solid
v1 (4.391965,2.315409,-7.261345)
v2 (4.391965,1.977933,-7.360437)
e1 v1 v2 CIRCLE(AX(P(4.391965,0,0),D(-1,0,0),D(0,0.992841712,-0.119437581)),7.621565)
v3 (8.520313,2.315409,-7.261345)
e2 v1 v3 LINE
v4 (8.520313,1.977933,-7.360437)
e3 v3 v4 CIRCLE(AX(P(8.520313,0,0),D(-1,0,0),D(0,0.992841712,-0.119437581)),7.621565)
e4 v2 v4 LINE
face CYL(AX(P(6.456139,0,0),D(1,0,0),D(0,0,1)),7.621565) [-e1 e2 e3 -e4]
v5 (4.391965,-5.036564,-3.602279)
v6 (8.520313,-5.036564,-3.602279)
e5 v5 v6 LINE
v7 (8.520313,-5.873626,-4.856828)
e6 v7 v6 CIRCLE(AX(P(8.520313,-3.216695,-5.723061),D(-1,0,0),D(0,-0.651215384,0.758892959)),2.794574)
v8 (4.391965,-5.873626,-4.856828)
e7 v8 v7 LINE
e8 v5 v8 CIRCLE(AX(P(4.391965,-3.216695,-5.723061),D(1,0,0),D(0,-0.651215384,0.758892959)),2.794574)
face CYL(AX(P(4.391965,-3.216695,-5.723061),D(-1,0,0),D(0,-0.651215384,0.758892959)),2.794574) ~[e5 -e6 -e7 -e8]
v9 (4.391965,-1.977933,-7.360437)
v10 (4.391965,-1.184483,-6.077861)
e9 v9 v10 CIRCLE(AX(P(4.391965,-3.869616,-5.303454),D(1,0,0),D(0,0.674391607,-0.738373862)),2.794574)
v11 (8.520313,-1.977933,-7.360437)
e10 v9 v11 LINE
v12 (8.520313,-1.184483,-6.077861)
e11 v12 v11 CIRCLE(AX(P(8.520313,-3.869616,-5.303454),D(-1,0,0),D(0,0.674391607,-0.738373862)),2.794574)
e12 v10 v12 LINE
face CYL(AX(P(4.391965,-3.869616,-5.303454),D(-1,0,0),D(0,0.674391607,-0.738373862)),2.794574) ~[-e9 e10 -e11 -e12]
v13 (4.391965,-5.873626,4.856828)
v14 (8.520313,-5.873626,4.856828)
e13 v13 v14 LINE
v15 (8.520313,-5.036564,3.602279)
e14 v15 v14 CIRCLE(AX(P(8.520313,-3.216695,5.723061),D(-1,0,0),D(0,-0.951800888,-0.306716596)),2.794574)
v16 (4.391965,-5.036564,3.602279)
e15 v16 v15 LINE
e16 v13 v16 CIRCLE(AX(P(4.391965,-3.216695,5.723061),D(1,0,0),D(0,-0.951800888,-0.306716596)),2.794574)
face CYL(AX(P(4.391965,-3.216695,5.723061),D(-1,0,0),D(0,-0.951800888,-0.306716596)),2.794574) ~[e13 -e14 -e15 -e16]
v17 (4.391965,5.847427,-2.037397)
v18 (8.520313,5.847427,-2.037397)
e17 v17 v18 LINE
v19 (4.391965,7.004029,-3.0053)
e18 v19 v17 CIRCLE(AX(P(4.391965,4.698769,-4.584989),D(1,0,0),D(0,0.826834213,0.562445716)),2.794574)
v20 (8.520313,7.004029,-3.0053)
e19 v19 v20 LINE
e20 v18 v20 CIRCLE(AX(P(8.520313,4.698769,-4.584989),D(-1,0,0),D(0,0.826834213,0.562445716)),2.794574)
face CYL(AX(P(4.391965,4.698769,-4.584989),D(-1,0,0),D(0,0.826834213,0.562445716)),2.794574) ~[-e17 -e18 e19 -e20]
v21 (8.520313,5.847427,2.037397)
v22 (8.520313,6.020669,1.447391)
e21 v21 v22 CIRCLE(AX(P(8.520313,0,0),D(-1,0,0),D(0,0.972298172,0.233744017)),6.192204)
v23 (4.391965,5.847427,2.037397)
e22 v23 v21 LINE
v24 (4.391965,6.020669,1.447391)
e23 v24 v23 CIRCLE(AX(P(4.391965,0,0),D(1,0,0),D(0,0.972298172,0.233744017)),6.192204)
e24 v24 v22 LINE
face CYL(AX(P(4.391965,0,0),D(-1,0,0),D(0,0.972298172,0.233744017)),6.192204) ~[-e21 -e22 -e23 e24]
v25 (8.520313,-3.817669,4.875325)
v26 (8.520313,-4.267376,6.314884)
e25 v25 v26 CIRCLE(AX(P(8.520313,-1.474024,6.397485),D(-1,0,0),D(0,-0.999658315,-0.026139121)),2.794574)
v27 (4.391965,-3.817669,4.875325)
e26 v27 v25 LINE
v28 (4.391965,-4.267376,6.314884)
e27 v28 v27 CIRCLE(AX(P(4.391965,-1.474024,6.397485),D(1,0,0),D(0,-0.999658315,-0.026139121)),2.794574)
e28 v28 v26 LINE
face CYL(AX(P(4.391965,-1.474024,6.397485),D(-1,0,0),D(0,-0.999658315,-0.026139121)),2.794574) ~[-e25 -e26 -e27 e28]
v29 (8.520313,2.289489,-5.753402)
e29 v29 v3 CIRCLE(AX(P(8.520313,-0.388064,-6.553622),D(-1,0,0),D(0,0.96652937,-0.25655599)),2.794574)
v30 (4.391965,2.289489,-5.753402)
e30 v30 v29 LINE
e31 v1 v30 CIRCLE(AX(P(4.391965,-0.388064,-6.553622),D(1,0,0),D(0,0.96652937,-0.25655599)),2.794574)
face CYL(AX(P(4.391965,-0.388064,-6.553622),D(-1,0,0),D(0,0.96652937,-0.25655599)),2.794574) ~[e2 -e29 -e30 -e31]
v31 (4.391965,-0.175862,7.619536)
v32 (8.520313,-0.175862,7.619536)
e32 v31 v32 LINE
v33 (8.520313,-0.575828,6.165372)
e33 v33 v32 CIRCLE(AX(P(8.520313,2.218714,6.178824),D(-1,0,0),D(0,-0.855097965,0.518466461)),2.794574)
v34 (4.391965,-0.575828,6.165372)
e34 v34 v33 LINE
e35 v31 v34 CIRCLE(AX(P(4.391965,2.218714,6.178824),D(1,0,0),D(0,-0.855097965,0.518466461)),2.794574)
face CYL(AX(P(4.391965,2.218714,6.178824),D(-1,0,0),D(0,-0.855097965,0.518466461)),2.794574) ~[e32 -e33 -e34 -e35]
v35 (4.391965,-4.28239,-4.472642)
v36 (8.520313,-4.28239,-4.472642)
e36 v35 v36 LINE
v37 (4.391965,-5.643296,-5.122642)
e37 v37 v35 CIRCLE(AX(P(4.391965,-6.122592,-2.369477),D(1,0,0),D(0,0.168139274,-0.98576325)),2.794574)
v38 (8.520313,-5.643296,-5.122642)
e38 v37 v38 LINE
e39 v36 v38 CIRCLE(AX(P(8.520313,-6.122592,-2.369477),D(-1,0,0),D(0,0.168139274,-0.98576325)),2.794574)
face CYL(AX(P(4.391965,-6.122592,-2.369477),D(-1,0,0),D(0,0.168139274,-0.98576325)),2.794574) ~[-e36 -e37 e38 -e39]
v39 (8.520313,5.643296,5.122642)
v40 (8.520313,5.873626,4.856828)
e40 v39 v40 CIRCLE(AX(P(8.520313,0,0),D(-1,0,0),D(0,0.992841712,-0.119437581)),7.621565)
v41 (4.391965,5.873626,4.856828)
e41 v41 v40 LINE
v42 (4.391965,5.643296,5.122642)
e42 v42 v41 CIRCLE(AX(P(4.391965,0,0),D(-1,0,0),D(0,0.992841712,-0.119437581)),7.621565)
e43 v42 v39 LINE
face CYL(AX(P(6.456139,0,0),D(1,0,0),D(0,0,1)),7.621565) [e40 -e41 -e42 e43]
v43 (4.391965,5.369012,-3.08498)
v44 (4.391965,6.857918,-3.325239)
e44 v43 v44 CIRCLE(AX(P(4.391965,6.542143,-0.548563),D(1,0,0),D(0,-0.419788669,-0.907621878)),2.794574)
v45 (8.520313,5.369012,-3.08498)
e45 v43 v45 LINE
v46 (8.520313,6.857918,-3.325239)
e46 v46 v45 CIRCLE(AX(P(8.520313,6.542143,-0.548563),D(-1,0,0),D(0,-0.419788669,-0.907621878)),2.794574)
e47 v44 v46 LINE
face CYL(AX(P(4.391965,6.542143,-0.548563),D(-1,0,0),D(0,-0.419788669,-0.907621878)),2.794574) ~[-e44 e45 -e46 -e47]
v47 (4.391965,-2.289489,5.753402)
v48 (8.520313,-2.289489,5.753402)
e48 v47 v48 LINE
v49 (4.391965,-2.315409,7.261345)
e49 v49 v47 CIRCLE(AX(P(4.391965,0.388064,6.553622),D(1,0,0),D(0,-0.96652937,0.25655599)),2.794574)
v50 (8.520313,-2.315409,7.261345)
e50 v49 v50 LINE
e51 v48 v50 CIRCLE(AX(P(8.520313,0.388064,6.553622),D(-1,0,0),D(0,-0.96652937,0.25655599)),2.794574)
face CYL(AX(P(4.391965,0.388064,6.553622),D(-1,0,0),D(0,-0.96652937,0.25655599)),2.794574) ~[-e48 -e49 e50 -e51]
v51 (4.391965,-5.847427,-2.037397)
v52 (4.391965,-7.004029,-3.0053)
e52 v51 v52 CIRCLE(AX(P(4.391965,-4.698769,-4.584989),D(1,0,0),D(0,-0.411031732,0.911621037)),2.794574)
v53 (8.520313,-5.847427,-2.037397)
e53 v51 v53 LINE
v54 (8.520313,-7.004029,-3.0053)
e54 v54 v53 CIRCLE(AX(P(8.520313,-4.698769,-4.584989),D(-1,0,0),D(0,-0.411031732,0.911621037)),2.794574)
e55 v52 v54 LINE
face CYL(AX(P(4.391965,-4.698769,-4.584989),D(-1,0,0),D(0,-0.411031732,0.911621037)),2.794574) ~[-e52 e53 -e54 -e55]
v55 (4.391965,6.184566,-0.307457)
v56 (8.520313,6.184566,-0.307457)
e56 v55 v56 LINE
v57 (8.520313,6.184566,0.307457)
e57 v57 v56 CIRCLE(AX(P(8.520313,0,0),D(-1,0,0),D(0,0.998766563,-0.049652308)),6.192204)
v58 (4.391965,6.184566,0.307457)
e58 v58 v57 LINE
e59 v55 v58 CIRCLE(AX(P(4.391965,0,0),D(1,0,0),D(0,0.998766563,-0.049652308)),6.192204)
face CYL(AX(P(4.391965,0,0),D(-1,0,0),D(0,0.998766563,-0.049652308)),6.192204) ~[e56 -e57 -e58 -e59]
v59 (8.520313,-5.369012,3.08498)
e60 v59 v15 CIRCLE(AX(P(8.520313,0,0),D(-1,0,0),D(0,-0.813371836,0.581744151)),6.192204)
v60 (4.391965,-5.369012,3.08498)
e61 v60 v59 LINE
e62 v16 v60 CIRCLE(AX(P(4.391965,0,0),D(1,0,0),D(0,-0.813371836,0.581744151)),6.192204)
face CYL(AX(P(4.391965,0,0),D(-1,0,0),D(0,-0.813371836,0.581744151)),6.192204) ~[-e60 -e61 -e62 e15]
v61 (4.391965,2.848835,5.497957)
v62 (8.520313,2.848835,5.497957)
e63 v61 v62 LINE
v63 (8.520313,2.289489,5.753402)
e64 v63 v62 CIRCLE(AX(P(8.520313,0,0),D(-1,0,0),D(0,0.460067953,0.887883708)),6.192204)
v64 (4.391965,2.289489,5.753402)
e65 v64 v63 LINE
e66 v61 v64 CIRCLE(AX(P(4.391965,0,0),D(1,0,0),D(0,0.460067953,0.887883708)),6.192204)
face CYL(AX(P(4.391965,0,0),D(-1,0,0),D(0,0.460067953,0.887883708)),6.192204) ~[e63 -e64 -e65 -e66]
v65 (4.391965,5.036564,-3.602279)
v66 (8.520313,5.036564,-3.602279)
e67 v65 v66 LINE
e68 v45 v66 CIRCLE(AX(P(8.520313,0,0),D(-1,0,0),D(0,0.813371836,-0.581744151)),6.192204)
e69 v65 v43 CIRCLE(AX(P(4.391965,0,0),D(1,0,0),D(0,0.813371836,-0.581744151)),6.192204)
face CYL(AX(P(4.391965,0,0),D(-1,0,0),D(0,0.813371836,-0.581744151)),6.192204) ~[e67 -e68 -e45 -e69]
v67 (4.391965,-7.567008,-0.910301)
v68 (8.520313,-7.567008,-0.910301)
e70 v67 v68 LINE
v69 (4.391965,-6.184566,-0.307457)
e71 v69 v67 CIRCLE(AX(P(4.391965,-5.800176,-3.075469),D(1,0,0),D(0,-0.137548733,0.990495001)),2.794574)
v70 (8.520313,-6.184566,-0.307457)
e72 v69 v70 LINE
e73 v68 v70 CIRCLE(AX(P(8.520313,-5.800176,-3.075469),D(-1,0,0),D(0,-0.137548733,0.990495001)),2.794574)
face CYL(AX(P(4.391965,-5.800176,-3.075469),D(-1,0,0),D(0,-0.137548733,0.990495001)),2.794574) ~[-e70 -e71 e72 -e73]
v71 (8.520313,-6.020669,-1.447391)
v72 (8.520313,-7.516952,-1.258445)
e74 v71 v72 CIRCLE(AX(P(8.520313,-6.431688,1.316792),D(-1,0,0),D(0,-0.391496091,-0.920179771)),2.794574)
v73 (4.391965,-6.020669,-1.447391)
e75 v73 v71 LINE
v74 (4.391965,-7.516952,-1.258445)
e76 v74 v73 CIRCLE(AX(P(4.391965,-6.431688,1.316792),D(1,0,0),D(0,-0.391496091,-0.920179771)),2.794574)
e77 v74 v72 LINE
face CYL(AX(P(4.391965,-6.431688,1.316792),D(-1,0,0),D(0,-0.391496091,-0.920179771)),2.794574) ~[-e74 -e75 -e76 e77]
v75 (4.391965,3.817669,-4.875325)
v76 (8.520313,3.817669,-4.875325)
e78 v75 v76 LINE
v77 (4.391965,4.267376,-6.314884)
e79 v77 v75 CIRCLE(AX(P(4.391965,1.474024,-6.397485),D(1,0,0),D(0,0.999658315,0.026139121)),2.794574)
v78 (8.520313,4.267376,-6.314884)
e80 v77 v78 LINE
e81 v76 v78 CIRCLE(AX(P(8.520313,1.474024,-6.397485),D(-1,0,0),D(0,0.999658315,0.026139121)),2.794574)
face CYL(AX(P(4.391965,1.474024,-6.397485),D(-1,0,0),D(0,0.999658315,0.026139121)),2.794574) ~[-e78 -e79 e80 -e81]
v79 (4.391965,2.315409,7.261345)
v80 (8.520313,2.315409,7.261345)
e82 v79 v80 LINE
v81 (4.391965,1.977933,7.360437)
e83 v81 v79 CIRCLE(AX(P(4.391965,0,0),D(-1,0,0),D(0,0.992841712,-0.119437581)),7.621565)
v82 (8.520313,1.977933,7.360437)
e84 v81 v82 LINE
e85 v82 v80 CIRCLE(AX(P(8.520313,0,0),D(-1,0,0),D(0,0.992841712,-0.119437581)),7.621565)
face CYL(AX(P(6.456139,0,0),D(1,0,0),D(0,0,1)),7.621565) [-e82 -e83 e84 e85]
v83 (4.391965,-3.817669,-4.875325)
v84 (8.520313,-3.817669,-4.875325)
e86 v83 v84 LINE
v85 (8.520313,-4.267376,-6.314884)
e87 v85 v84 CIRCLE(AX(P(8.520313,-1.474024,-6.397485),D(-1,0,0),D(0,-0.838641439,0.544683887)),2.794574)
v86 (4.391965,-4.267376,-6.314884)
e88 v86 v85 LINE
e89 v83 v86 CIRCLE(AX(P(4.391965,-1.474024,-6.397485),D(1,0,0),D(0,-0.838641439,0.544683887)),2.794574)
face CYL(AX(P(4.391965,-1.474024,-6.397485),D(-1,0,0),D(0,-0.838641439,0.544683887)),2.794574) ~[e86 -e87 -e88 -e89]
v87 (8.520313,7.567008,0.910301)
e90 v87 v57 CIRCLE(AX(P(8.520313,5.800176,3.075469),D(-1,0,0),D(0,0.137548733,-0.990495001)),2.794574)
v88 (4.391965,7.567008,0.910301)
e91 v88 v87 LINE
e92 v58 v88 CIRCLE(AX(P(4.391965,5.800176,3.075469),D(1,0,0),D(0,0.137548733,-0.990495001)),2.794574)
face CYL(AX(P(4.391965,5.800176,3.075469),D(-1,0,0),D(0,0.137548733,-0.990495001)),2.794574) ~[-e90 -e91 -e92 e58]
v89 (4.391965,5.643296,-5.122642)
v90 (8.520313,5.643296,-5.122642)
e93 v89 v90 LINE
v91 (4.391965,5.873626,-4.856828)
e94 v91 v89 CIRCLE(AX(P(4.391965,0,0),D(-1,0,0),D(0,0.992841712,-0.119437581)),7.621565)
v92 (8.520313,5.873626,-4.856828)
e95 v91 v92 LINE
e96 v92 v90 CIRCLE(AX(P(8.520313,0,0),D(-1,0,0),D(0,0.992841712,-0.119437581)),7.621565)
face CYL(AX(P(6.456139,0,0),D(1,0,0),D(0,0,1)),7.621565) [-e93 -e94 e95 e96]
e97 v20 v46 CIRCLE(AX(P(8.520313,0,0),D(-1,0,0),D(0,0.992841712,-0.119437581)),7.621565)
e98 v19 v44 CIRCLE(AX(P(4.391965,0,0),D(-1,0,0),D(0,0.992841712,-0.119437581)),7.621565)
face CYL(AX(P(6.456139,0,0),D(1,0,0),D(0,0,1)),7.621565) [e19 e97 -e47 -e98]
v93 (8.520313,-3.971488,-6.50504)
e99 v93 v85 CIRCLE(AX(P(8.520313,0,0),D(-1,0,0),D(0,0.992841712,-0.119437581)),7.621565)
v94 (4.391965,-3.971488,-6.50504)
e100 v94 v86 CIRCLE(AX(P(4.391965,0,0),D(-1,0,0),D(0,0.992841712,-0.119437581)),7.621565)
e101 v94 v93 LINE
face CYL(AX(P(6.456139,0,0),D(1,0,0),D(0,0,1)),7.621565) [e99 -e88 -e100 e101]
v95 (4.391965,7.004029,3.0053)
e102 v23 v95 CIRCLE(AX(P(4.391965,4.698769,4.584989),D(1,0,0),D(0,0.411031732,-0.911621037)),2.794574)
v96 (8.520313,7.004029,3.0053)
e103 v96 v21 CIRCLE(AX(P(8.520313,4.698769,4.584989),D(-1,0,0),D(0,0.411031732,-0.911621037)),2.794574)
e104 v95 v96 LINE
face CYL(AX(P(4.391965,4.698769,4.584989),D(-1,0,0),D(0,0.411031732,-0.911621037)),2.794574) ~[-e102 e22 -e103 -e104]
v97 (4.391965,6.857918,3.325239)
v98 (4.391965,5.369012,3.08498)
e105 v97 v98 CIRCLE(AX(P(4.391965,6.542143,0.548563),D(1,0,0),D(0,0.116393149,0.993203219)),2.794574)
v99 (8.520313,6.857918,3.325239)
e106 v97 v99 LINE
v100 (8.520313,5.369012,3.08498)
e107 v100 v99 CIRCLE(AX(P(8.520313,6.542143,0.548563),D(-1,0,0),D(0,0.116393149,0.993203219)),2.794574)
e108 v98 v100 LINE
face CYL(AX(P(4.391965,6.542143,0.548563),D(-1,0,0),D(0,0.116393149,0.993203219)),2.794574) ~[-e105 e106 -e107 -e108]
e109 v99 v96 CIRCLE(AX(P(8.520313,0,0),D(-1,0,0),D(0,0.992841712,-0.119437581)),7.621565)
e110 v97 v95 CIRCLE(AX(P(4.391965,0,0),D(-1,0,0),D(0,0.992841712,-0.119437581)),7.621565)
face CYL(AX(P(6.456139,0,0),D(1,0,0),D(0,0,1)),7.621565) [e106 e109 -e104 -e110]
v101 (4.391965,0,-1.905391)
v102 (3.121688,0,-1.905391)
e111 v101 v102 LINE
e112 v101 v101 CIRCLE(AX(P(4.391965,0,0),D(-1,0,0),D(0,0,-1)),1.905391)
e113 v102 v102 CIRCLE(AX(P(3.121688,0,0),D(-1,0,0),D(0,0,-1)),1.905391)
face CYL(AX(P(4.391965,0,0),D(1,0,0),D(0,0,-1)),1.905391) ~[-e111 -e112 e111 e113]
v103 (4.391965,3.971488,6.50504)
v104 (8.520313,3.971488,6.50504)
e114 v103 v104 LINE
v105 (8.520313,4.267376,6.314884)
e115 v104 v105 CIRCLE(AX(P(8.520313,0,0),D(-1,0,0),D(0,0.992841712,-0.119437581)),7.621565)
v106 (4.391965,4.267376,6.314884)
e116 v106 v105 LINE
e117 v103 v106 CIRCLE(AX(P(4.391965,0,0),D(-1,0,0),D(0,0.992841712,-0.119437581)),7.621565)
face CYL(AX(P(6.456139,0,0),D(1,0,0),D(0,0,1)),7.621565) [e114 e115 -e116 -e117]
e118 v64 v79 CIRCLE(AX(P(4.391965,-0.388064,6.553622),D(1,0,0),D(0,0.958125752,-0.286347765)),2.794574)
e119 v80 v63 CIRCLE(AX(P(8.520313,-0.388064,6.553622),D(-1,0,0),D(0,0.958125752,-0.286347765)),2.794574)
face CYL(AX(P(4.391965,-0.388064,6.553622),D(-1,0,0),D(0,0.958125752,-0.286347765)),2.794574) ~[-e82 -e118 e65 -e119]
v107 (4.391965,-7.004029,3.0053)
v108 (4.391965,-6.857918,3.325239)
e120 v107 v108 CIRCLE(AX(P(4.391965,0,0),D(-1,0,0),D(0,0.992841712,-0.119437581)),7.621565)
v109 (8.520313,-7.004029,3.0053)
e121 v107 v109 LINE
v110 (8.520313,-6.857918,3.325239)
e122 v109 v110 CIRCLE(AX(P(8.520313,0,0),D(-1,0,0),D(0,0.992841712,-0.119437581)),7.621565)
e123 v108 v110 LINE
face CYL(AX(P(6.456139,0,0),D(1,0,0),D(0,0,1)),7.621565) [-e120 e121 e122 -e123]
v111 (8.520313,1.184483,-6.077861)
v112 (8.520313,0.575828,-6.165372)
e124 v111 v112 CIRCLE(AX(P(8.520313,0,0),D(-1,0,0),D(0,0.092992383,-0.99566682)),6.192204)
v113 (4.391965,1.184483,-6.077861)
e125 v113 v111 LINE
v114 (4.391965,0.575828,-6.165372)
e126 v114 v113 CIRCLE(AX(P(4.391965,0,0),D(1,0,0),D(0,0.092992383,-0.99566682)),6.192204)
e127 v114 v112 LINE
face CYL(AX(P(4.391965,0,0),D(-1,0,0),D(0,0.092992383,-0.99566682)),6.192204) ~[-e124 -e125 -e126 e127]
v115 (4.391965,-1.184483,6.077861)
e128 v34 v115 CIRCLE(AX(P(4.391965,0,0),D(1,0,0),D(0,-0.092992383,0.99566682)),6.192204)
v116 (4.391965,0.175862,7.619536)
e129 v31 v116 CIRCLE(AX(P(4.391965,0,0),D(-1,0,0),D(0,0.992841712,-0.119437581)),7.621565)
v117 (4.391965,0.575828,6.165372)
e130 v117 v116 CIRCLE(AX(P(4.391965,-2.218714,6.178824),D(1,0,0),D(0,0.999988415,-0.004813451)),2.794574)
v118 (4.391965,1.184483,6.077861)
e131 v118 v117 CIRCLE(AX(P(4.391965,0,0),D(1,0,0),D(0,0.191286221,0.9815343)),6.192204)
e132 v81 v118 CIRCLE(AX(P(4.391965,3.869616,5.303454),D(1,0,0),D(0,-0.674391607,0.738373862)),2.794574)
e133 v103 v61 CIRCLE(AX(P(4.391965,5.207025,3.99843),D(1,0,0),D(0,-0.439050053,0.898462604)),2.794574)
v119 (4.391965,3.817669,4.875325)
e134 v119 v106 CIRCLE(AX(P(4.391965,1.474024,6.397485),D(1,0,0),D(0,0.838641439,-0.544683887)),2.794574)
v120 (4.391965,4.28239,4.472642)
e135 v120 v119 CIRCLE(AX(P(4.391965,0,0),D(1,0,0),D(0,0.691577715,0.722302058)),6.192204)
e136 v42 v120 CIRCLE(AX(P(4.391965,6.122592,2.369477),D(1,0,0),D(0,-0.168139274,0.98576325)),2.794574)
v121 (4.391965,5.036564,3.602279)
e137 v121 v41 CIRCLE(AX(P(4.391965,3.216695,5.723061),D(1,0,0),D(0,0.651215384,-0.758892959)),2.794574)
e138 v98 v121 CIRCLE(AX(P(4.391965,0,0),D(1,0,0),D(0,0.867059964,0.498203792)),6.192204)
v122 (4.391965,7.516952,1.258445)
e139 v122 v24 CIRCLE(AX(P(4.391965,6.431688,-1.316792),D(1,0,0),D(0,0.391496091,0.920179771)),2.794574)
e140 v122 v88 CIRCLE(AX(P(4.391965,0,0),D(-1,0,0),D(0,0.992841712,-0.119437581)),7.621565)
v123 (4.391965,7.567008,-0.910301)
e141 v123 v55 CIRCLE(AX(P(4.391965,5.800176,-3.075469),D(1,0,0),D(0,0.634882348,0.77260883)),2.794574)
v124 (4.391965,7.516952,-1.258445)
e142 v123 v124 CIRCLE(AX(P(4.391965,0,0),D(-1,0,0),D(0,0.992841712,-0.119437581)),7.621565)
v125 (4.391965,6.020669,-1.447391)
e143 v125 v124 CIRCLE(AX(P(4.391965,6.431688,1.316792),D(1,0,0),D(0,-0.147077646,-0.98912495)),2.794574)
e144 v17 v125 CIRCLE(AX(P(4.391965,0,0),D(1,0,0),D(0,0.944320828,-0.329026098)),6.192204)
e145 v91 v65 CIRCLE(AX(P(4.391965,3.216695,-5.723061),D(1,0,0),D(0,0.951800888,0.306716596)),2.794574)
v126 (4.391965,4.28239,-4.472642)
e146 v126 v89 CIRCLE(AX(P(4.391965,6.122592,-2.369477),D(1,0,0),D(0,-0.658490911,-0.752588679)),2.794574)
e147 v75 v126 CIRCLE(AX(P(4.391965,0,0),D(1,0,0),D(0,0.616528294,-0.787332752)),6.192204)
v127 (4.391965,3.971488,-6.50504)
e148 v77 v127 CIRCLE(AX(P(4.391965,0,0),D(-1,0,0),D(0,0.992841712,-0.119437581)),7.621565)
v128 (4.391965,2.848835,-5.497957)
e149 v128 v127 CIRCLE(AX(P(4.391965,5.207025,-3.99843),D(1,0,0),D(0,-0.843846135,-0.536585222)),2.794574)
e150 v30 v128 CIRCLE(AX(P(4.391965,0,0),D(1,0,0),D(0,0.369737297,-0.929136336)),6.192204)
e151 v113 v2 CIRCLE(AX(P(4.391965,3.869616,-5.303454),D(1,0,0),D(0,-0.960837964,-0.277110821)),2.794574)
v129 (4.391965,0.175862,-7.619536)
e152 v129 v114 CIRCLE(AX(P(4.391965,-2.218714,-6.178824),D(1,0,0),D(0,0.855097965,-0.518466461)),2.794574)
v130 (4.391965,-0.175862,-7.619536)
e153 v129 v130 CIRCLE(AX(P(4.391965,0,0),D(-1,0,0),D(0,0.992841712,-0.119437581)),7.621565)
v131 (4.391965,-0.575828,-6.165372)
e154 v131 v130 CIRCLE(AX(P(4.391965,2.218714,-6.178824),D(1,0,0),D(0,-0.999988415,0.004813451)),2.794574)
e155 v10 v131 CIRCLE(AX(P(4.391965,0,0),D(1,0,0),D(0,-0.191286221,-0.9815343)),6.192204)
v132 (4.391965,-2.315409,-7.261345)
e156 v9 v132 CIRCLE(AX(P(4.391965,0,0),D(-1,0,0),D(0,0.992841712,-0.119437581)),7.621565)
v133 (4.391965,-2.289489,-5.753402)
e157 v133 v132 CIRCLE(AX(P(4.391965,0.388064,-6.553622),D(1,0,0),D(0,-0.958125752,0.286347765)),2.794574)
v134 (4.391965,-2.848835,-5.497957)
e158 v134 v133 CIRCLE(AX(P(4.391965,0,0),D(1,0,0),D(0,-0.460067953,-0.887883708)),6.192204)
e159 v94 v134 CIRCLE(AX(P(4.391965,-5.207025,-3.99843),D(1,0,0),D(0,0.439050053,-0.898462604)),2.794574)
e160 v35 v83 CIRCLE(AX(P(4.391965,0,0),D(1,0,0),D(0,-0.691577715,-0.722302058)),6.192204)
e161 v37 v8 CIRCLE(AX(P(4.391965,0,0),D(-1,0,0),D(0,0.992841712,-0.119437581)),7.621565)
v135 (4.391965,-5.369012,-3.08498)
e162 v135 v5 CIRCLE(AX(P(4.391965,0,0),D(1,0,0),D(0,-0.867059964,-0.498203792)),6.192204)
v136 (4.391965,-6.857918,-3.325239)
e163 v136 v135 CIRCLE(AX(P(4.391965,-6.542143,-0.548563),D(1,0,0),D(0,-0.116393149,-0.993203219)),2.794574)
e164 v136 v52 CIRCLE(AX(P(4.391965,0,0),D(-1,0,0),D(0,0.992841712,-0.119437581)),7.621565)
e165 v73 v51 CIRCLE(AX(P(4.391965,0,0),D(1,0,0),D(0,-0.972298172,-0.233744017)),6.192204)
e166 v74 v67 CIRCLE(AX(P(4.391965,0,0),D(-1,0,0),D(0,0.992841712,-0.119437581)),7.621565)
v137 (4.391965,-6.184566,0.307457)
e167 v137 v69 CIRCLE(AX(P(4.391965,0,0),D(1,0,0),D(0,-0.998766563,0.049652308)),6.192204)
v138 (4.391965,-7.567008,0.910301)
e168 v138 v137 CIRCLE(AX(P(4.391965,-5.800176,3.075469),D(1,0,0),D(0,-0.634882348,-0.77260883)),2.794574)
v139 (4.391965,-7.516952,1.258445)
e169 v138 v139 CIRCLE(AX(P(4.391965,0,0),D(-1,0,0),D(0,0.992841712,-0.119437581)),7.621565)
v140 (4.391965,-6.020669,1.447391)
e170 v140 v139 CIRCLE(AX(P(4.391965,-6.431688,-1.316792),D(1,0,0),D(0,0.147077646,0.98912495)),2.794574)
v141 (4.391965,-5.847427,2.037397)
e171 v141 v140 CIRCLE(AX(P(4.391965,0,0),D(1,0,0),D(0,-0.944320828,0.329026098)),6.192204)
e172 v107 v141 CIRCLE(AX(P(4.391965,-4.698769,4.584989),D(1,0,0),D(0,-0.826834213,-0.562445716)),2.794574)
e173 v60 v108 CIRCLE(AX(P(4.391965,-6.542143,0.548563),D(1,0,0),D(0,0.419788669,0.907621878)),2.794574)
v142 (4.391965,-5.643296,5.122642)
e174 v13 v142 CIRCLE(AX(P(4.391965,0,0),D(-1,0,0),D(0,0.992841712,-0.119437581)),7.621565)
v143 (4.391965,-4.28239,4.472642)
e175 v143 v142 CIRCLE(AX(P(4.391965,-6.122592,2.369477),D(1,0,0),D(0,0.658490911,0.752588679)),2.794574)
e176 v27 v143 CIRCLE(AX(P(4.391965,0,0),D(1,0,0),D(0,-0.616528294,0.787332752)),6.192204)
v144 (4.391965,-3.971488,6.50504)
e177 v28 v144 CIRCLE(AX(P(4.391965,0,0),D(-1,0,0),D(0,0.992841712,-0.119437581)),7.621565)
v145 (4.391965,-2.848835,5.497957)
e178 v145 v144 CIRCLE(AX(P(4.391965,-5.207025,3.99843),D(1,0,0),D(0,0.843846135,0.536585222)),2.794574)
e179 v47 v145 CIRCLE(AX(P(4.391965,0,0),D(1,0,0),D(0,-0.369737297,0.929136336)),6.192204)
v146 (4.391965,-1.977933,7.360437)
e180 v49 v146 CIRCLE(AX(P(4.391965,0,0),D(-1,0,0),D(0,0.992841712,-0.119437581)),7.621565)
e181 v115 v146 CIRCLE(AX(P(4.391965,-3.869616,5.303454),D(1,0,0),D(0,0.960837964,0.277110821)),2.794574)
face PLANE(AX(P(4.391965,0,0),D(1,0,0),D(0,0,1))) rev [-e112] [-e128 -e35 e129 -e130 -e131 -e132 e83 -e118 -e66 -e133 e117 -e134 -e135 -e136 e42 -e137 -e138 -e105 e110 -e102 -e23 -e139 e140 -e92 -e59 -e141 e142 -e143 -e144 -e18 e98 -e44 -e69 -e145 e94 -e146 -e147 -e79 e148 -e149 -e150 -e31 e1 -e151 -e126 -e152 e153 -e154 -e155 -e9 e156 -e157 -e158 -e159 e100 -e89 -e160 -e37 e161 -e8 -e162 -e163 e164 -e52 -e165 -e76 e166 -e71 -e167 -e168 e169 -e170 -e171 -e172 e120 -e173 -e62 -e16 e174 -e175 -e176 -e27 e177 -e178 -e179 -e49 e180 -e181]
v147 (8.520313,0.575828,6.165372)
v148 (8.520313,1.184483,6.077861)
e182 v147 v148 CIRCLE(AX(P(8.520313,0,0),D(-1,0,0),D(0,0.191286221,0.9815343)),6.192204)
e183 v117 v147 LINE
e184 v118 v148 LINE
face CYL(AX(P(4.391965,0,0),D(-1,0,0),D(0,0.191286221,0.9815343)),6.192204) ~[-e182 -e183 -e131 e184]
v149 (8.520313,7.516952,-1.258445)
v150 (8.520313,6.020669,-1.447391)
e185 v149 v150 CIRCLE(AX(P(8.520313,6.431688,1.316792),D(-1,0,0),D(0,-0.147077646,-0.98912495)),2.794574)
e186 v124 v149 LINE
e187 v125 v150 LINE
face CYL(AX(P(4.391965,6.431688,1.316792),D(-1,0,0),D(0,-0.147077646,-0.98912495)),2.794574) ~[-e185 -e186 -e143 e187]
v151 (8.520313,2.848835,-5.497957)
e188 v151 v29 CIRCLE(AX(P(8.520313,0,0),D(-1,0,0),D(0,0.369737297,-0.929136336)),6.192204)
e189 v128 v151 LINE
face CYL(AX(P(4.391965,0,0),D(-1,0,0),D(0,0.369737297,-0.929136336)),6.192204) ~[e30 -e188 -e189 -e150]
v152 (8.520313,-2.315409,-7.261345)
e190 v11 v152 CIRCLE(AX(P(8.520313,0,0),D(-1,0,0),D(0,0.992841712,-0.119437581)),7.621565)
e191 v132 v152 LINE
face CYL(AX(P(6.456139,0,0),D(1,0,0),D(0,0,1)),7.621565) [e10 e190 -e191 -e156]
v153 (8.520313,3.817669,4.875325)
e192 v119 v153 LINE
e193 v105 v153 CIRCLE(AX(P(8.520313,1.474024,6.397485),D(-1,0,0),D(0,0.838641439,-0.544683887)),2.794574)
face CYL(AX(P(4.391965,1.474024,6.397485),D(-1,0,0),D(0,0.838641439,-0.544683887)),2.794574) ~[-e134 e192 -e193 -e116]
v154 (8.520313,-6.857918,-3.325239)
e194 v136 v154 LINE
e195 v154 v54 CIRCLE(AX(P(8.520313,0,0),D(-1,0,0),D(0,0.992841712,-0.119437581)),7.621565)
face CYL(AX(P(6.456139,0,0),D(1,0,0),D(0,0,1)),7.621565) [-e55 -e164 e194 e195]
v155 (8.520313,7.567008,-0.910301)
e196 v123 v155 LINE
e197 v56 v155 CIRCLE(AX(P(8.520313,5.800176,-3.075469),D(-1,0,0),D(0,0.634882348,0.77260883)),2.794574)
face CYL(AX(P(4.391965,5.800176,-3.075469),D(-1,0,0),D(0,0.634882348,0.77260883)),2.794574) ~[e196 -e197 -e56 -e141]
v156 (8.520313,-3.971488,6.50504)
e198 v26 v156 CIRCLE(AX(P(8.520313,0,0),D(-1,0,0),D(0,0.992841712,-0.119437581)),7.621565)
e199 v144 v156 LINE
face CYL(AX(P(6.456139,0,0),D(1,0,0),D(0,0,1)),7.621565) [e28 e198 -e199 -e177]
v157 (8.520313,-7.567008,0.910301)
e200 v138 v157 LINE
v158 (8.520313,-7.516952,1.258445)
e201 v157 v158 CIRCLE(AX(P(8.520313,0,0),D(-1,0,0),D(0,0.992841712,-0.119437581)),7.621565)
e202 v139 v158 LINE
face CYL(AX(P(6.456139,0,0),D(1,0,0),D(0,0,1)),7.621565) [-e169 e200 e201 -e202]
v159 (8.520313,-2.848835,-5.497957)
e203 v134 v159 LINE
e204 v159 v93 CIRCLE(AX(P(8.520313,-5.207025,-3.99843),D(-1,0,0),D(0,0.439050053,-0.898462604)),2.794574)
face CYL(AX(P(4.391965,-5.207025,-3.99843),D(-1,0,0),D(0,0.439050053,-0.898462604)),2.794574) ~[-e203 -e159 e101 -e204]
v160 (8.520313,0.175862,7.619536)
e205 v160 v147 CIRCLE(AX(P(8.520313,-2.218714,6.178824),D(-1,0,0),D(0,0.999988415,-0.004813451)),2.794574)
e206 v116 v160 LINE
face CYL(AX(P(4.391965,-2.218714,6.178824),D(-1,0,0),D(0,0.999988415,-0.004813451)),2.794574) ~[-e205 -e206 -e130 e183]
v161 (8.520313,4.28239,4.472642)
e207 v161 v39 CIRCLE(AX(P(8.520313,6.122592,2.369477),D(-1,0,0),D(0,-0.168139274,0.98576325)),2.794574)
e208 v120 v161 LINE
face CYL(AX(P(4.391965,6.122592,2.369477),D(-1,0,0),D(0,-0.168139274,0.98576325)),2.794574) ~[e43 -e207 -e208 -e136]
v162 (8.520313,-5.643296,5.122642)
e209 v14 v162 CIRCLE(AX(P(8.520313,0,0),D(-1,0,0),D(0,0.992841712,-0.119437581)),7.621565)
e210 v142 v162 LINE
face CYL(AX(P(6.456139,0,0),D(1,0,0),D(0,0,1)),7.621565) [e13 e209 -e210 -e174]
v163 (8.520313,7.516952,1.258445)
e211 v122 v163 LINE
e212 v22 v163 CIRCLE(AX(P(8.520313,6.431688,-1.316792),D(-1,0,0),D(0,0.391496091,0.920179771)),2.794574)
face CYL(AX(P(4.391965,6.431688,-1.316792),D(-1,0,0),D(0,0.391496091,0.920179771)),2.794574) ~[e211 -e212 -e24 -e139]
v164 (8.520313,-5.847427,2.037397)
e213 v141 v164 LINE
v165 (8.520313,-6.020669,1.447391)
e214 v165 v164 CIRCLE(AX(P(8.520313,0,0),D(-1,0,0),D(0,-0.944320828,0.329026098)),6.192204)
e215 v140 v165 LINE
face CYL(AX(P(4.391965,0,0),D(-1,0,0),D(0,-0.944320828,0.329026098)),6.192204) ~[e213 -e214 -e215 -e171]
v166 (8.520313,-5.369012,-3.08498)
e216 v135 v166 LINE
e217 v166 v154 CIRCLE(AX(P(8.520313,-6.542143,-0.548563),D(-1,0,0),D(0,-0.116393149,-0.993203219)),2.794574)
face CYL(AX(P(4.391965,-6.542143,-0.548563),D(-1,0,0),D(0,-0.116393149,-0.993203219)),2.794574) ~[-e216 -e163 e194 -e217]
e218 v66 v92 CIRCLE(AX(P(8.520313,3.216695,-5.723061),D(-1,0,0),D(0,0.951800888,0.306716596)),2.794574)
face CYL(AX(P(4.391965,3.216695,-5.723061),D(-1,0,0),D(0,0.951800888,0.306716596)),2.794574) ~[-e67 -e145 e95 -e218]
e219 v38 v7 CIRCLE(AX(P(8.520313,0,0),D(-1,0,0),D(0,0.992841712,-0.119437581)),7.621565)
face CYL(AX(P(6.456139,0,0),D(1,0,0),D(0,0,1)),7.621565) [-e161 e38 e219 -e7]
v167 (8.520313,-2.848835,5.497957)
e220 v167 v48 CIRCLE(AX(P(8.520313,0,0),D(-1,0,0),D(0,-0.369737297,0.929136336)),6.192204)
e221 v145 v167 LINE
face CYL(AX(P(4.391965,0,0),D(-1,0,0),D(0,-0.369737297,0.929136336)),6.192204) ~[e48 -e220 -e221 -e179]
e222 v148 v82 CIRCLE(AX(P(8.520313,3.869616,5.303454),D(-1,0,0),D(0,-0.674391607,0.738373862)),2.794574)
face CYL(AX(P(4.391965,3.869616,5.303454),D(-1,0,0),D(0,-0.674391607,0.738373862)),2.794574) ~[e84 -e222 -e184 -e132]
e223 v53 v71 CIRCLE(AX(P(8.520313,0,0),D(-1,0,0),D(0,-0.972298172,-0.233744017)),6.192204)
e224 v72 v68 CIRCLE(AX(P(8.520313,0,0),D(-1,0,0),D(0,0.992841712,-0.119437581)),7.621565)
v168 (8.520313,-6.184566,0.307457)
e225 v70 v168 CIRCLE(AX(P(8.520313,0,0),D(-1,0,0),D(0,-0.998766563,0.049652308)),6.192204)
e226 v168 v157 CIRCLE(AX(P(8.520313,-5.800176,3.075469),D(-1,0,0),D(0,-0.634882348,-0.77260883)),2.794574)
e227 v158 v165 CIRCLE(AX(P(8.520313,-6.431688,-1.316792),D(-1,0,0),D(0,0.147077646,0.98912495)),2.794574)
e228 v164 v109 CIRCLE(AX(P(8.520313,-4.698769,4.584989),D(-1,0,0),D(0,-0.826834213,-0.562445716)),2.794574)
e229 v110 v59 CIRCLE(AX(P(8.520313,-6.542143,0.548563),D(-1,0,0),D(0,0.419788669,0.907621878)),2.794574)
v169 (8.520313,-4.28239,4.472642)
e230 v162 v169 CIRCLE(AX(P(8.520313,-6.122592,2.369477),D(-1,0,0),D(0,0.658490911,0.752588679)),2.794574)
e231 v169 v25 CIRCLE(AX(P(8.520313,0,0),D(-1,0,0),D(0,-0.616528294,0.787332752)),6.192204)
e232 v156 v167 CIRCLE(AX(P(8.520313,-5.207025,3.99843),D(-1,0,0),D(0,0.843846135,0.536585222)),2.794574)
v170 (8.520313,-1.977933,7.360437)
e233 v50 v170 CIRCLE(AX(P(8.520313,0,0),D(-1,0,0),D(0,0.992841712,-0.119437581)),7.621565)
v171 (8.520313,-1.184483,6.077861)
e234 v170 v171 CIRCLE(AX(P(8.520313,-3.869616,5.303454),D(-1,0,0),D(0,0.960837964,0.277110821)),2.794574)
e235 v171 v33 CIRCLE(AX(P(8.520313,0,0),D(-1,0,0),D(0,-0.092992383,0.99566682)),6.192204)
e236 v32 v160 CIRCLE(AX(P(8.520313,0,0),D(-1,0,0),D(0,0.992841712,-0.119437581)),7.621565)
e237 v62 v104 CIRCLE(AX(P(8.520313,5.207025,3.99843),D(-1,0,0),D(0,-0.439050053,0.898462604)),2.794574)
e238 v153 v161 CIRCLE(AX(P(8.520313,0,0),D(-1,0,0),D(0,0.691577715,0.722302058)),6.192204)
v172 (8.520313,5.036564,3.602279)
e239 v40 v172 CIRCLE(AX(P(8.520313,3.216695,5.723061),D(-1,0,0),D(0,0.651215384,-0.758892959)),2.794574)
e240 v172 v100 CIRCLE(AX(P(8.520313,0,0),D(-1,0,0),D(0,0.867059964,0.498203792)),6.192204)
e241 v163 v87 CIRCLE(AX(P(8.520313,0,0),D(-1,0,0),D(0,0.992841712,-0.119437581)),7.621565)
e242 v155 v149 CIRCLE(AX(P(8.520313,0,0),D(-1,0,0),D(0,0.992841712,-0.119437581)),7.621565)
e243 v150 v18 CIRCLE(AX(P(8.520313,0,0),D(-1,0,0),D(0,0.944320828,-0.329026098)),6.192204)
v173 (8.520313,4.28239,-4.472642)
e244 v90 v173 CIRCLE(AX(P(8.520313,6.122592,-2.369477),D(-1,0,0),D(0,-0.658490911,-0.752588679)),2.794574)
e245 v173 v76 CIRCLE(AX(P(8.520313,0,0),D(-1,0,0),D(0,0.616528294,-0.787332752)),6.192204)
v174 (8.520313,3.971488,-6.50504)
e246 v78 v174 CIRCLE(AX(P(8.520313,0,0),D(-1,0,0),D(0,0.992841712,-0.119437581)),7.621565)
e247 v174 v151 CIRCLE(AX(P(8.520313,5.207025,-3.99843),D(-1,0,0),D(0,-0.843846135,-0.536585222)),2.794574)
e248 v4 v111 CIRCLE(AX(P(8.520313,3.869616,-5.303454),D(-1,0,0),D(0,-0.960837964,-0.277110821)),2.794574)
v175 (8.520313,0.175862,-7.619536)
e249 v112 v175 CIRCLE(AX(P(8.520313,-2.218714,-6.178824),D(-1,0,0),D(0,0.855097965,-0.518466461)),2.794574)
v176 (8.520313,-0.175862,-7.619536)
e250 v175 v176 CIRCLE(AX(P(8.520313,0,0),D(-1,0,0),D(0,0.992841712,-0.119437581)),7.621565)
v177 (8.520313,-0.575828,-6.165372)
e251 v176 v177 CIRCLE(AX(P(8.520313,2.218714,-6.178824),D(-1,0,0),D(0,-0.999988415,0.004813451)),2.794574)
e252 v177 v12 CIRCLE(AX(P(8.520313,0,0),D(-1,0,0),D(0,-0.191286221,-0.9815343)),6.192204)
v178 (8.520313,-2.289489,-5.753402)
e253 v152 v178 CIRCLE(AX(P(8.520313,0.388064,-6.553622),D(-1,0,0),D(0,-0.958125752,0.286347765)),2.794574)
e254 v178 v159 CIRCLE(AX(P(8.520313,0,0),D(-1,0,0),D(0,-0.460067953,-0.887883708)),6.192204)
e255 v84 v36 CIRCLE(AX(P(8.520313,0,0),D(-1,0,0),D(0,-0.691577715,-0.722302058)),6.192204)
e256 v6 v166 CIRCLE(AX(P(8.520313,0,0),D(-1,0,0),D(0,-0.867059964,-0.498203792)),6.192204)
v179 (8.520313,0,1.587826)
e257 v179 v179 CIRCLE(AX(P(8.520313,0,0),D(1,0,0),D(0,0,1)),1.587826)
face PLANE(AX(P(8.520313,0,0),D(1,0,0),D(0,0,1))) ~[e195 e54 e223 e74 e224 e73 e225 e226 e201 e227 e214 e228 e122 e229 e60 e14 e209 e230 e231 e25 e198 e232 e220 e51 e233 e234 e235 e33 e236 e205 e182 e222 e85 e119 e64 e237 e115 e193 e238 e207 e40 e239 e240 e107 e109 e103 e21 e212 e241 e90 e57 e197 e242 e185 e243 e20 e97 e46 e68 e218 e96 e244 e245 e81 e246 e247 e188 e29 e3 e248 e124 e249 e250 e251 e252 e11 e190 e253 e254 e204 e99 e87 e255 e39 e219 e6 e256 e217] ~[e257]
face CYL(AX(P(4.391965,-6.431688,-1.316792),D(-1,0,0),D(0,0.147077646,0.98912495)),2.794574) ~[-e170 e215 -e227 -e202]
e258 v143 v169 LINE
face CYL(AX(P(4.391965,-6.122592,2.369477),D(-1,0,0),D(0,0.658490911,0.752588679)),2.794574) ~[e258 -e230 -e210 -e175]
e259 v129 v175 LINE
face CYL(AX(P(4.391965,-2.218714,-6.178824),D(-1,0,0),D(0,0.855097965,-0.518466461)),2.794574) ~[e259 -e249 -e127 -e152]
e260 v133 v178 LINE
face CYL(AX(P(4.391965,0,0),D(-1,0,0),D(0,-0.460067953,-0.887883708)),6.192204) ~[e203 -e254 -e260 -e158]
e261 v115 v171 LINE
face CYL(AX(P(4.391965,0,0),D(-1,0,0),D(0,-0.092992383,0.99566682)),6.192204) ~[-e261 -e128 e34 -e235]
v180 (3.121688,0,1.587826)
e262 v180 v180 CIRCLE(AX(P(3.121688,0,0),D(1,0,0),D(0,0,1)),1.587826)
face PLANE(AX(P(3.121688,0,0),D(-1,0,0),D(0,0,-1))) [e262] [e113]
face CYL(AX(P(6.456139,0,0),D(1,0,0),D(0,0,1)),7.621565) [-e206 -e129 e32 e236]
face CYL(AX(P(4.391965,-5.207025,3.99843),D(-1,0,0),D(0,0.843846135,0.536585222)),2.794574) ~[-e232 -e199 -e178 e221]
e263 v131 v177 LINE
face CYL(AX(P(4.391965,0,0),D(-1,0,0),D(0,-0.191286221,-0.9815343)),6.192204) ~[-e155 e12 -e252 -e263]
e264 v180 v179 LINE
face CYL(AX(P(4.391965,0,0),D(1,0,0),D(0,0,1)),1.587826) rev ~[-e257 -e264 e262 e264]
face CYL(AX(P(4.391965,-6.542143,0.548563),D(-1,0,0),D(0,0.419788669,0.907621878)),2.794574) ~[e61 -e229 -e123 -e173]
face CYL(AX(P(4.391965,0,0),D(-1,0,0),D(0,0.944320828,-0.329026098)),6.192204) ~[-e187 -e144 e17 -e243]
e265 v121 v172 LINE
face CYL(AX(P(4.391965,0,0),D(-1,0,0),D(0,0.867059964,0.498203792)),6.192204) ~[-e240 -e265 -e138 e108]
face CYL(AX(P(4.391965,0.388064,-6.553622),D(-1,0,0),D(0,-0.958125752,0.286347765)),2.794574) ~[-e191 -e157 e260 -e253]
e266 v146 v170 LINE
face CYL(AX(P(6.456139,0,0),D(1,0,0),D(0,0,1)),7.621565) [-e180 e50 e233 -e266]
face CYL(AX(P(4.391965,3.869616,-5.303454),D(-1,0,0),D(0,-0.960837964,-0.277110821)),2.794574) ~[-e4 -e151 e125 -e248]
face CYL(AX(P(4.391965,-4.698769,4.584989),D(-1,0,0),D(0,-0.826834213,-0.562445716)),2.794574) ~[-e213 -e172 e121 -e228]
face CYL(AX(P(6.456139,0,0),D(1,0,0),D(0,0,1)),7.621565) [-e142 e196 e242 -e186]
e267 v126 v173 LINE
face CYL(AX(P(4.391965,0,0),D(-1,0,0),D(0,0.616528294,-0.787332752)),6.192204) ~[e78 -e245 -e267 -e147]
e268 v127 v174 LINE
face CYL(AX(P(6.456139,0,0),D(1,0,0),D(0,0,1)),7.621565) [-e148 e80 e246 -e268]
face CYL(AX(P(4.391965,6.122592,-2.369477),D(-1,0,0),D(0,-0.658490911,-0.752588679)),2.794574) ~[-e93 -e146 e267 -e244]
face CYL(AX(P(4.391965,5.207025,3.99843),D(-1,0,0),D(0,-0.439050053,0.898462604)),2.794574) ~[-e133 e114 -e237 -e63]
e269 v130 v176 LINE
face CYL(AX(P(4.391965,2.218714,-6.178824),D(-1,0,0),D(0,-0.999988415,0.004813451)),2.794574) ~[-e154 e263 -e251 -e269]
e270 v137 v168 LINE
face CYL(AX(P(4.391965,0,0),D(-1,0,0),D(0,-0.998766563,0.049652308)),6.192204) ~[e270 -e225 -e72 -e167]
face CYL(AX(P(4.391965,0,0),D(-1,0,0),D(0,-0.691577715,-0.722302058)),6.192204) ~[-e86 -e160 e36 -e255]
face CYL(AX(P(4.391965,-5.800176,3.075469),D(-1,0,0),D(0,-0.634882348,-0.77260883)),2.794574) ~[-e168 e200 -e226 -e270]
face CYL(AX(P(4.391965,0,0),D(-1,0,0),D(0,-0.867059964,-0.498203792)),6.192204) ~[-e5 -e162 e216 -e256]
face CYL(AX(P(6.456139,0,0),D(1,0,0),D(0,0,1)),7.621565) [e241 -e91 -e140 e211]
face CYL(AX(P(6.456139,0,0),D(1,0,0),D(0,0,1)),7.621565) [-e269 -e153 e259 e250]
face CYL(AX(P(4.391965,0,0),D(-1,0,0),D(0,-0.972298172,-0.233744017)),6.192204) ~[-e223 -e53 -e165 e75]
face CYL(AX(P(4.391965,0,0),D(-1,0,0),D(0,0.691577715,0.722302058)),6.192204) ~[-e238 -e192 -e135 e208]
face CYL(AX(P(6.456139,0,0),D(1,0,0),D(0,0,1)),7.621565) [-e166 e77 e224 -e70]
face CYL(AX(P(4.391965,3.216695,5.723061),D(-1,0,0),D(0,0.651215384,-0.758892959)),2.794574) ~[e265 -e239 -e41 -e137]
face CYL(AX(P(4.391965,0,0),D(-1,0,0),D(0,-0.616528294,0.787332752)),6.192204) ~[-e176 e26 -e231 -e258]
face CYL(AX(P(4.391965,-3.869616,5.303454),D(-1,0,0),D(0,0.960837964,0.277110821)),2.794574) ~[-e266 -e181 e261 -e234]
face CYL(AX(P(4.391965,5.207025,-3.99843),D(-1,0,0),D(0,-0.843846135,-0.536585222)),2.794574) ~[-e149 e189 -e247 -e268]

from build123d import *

# Parameters (mm, degrees)
BASPROSKE_W      = 13
BASPROSKE_H      = 24
TOOTHCUT_DEPTH   = 37.345563691
TEETHCUTS_COUNT  = 22
TEETHCUTS_ANGLE  = 343.636363636
HUBNEAONESKE_R   = 6
HUBNEARONE_DEPTH = 4.0000508
BORSKE_R         = 5
BORE_DEPTH       = 17.0000508
SCALE1_SCALE     = 0.317565217


with BuildPart() as part:
    # BasProSke → Base-Revolve (revolve)
    with BuildSketch(Plane(origin=(0, 0, 0), x_dir=(1, 0, 0), z_dir=(0, 1, 0)), mode=Mode.PRIVATE) as base_revolve_sk:
        with Locations((6.5, 12)):
            Rectangle(BASPROSKE_W, BASPROSKE_H)
    revolve(base_revolve_sk.sketch.rotate(Axis((-10, 0, 0), (1, 0, 0)), 180), axis=Axis((-10, 0, 0), (1, 0, 0)))

    # TooCutSke → ToothCut (cut, through all)
    with BuildSketch(Plane(origin=(0, 0, 0), x_dir=(0, 0, -1), z_dir=(1, 0, 0))):
        with BuildLine():
            ThreePointArc((0.968170358, 19.474949221), (0, 19.499), (-0.968170358, 19.474949221))
            ThreePointArc((-0.968170358, 19.474949221), (-1.624144469, 21.795843598), (-2.885568663, 23.851485041))
            ThreePointArc((-2.885568663, 23.851485041), (0, 24.0254), (2.885568663, 23.851485041))
            ThreePointArc((2.885568663, 23.851485041), (1.624144469, 21.795843598), (0.968170358, 19.474949221))
        make_face()
    toothcut = extrude(amount=TOOTHCUT_DEPTH, mode=Mode.SUBTRACT)

    # TeethCuts: ToothCut ×22 about axis
    teethcuts_axis = Axis((-10, 0, 0), (1, 0, 0))
    for i in range(1, TEETHCUTS_COUNT):
        add(toothcut.rotate(teethcuts_axis, i * TEETHCUTS_ANGLE / (TEETHCUTS_COUNT - 1)), mode=Mode.SUBTRACT)

    # HubNeaOneSke → HubNearOne (add)
    with BuildSketch(Plane.ZY):
        with Locations(Location((0, 0, 0), (0, 0, 180))):
            Circle(HUBNEAONESKE_R)
    extrude(amount=HUBNEARONE_DEPTH)

    # BorSke → Bore (cut, symmetric)
    with BuildSketch(Plane(origin=(0, 0, 0), x_dir=(0, 0, -1), z_dir=(1, 0, 0))):
        with Locations(Location((0, 0, 0), (0, 0, 180))):
            Circle(BORSKE_R)
    extrude(amount=BORE_DEPTH, both=True, mode=Mode.SUBTRACT)


with BuildPart() as part_1:
    # Scale1: scaled about (6.435728892, 0, 0)
    add(part.part.scale(SCALE1_SCALE).moved(Location((4.39196525, 0, 0))))


solid = part_1.part
